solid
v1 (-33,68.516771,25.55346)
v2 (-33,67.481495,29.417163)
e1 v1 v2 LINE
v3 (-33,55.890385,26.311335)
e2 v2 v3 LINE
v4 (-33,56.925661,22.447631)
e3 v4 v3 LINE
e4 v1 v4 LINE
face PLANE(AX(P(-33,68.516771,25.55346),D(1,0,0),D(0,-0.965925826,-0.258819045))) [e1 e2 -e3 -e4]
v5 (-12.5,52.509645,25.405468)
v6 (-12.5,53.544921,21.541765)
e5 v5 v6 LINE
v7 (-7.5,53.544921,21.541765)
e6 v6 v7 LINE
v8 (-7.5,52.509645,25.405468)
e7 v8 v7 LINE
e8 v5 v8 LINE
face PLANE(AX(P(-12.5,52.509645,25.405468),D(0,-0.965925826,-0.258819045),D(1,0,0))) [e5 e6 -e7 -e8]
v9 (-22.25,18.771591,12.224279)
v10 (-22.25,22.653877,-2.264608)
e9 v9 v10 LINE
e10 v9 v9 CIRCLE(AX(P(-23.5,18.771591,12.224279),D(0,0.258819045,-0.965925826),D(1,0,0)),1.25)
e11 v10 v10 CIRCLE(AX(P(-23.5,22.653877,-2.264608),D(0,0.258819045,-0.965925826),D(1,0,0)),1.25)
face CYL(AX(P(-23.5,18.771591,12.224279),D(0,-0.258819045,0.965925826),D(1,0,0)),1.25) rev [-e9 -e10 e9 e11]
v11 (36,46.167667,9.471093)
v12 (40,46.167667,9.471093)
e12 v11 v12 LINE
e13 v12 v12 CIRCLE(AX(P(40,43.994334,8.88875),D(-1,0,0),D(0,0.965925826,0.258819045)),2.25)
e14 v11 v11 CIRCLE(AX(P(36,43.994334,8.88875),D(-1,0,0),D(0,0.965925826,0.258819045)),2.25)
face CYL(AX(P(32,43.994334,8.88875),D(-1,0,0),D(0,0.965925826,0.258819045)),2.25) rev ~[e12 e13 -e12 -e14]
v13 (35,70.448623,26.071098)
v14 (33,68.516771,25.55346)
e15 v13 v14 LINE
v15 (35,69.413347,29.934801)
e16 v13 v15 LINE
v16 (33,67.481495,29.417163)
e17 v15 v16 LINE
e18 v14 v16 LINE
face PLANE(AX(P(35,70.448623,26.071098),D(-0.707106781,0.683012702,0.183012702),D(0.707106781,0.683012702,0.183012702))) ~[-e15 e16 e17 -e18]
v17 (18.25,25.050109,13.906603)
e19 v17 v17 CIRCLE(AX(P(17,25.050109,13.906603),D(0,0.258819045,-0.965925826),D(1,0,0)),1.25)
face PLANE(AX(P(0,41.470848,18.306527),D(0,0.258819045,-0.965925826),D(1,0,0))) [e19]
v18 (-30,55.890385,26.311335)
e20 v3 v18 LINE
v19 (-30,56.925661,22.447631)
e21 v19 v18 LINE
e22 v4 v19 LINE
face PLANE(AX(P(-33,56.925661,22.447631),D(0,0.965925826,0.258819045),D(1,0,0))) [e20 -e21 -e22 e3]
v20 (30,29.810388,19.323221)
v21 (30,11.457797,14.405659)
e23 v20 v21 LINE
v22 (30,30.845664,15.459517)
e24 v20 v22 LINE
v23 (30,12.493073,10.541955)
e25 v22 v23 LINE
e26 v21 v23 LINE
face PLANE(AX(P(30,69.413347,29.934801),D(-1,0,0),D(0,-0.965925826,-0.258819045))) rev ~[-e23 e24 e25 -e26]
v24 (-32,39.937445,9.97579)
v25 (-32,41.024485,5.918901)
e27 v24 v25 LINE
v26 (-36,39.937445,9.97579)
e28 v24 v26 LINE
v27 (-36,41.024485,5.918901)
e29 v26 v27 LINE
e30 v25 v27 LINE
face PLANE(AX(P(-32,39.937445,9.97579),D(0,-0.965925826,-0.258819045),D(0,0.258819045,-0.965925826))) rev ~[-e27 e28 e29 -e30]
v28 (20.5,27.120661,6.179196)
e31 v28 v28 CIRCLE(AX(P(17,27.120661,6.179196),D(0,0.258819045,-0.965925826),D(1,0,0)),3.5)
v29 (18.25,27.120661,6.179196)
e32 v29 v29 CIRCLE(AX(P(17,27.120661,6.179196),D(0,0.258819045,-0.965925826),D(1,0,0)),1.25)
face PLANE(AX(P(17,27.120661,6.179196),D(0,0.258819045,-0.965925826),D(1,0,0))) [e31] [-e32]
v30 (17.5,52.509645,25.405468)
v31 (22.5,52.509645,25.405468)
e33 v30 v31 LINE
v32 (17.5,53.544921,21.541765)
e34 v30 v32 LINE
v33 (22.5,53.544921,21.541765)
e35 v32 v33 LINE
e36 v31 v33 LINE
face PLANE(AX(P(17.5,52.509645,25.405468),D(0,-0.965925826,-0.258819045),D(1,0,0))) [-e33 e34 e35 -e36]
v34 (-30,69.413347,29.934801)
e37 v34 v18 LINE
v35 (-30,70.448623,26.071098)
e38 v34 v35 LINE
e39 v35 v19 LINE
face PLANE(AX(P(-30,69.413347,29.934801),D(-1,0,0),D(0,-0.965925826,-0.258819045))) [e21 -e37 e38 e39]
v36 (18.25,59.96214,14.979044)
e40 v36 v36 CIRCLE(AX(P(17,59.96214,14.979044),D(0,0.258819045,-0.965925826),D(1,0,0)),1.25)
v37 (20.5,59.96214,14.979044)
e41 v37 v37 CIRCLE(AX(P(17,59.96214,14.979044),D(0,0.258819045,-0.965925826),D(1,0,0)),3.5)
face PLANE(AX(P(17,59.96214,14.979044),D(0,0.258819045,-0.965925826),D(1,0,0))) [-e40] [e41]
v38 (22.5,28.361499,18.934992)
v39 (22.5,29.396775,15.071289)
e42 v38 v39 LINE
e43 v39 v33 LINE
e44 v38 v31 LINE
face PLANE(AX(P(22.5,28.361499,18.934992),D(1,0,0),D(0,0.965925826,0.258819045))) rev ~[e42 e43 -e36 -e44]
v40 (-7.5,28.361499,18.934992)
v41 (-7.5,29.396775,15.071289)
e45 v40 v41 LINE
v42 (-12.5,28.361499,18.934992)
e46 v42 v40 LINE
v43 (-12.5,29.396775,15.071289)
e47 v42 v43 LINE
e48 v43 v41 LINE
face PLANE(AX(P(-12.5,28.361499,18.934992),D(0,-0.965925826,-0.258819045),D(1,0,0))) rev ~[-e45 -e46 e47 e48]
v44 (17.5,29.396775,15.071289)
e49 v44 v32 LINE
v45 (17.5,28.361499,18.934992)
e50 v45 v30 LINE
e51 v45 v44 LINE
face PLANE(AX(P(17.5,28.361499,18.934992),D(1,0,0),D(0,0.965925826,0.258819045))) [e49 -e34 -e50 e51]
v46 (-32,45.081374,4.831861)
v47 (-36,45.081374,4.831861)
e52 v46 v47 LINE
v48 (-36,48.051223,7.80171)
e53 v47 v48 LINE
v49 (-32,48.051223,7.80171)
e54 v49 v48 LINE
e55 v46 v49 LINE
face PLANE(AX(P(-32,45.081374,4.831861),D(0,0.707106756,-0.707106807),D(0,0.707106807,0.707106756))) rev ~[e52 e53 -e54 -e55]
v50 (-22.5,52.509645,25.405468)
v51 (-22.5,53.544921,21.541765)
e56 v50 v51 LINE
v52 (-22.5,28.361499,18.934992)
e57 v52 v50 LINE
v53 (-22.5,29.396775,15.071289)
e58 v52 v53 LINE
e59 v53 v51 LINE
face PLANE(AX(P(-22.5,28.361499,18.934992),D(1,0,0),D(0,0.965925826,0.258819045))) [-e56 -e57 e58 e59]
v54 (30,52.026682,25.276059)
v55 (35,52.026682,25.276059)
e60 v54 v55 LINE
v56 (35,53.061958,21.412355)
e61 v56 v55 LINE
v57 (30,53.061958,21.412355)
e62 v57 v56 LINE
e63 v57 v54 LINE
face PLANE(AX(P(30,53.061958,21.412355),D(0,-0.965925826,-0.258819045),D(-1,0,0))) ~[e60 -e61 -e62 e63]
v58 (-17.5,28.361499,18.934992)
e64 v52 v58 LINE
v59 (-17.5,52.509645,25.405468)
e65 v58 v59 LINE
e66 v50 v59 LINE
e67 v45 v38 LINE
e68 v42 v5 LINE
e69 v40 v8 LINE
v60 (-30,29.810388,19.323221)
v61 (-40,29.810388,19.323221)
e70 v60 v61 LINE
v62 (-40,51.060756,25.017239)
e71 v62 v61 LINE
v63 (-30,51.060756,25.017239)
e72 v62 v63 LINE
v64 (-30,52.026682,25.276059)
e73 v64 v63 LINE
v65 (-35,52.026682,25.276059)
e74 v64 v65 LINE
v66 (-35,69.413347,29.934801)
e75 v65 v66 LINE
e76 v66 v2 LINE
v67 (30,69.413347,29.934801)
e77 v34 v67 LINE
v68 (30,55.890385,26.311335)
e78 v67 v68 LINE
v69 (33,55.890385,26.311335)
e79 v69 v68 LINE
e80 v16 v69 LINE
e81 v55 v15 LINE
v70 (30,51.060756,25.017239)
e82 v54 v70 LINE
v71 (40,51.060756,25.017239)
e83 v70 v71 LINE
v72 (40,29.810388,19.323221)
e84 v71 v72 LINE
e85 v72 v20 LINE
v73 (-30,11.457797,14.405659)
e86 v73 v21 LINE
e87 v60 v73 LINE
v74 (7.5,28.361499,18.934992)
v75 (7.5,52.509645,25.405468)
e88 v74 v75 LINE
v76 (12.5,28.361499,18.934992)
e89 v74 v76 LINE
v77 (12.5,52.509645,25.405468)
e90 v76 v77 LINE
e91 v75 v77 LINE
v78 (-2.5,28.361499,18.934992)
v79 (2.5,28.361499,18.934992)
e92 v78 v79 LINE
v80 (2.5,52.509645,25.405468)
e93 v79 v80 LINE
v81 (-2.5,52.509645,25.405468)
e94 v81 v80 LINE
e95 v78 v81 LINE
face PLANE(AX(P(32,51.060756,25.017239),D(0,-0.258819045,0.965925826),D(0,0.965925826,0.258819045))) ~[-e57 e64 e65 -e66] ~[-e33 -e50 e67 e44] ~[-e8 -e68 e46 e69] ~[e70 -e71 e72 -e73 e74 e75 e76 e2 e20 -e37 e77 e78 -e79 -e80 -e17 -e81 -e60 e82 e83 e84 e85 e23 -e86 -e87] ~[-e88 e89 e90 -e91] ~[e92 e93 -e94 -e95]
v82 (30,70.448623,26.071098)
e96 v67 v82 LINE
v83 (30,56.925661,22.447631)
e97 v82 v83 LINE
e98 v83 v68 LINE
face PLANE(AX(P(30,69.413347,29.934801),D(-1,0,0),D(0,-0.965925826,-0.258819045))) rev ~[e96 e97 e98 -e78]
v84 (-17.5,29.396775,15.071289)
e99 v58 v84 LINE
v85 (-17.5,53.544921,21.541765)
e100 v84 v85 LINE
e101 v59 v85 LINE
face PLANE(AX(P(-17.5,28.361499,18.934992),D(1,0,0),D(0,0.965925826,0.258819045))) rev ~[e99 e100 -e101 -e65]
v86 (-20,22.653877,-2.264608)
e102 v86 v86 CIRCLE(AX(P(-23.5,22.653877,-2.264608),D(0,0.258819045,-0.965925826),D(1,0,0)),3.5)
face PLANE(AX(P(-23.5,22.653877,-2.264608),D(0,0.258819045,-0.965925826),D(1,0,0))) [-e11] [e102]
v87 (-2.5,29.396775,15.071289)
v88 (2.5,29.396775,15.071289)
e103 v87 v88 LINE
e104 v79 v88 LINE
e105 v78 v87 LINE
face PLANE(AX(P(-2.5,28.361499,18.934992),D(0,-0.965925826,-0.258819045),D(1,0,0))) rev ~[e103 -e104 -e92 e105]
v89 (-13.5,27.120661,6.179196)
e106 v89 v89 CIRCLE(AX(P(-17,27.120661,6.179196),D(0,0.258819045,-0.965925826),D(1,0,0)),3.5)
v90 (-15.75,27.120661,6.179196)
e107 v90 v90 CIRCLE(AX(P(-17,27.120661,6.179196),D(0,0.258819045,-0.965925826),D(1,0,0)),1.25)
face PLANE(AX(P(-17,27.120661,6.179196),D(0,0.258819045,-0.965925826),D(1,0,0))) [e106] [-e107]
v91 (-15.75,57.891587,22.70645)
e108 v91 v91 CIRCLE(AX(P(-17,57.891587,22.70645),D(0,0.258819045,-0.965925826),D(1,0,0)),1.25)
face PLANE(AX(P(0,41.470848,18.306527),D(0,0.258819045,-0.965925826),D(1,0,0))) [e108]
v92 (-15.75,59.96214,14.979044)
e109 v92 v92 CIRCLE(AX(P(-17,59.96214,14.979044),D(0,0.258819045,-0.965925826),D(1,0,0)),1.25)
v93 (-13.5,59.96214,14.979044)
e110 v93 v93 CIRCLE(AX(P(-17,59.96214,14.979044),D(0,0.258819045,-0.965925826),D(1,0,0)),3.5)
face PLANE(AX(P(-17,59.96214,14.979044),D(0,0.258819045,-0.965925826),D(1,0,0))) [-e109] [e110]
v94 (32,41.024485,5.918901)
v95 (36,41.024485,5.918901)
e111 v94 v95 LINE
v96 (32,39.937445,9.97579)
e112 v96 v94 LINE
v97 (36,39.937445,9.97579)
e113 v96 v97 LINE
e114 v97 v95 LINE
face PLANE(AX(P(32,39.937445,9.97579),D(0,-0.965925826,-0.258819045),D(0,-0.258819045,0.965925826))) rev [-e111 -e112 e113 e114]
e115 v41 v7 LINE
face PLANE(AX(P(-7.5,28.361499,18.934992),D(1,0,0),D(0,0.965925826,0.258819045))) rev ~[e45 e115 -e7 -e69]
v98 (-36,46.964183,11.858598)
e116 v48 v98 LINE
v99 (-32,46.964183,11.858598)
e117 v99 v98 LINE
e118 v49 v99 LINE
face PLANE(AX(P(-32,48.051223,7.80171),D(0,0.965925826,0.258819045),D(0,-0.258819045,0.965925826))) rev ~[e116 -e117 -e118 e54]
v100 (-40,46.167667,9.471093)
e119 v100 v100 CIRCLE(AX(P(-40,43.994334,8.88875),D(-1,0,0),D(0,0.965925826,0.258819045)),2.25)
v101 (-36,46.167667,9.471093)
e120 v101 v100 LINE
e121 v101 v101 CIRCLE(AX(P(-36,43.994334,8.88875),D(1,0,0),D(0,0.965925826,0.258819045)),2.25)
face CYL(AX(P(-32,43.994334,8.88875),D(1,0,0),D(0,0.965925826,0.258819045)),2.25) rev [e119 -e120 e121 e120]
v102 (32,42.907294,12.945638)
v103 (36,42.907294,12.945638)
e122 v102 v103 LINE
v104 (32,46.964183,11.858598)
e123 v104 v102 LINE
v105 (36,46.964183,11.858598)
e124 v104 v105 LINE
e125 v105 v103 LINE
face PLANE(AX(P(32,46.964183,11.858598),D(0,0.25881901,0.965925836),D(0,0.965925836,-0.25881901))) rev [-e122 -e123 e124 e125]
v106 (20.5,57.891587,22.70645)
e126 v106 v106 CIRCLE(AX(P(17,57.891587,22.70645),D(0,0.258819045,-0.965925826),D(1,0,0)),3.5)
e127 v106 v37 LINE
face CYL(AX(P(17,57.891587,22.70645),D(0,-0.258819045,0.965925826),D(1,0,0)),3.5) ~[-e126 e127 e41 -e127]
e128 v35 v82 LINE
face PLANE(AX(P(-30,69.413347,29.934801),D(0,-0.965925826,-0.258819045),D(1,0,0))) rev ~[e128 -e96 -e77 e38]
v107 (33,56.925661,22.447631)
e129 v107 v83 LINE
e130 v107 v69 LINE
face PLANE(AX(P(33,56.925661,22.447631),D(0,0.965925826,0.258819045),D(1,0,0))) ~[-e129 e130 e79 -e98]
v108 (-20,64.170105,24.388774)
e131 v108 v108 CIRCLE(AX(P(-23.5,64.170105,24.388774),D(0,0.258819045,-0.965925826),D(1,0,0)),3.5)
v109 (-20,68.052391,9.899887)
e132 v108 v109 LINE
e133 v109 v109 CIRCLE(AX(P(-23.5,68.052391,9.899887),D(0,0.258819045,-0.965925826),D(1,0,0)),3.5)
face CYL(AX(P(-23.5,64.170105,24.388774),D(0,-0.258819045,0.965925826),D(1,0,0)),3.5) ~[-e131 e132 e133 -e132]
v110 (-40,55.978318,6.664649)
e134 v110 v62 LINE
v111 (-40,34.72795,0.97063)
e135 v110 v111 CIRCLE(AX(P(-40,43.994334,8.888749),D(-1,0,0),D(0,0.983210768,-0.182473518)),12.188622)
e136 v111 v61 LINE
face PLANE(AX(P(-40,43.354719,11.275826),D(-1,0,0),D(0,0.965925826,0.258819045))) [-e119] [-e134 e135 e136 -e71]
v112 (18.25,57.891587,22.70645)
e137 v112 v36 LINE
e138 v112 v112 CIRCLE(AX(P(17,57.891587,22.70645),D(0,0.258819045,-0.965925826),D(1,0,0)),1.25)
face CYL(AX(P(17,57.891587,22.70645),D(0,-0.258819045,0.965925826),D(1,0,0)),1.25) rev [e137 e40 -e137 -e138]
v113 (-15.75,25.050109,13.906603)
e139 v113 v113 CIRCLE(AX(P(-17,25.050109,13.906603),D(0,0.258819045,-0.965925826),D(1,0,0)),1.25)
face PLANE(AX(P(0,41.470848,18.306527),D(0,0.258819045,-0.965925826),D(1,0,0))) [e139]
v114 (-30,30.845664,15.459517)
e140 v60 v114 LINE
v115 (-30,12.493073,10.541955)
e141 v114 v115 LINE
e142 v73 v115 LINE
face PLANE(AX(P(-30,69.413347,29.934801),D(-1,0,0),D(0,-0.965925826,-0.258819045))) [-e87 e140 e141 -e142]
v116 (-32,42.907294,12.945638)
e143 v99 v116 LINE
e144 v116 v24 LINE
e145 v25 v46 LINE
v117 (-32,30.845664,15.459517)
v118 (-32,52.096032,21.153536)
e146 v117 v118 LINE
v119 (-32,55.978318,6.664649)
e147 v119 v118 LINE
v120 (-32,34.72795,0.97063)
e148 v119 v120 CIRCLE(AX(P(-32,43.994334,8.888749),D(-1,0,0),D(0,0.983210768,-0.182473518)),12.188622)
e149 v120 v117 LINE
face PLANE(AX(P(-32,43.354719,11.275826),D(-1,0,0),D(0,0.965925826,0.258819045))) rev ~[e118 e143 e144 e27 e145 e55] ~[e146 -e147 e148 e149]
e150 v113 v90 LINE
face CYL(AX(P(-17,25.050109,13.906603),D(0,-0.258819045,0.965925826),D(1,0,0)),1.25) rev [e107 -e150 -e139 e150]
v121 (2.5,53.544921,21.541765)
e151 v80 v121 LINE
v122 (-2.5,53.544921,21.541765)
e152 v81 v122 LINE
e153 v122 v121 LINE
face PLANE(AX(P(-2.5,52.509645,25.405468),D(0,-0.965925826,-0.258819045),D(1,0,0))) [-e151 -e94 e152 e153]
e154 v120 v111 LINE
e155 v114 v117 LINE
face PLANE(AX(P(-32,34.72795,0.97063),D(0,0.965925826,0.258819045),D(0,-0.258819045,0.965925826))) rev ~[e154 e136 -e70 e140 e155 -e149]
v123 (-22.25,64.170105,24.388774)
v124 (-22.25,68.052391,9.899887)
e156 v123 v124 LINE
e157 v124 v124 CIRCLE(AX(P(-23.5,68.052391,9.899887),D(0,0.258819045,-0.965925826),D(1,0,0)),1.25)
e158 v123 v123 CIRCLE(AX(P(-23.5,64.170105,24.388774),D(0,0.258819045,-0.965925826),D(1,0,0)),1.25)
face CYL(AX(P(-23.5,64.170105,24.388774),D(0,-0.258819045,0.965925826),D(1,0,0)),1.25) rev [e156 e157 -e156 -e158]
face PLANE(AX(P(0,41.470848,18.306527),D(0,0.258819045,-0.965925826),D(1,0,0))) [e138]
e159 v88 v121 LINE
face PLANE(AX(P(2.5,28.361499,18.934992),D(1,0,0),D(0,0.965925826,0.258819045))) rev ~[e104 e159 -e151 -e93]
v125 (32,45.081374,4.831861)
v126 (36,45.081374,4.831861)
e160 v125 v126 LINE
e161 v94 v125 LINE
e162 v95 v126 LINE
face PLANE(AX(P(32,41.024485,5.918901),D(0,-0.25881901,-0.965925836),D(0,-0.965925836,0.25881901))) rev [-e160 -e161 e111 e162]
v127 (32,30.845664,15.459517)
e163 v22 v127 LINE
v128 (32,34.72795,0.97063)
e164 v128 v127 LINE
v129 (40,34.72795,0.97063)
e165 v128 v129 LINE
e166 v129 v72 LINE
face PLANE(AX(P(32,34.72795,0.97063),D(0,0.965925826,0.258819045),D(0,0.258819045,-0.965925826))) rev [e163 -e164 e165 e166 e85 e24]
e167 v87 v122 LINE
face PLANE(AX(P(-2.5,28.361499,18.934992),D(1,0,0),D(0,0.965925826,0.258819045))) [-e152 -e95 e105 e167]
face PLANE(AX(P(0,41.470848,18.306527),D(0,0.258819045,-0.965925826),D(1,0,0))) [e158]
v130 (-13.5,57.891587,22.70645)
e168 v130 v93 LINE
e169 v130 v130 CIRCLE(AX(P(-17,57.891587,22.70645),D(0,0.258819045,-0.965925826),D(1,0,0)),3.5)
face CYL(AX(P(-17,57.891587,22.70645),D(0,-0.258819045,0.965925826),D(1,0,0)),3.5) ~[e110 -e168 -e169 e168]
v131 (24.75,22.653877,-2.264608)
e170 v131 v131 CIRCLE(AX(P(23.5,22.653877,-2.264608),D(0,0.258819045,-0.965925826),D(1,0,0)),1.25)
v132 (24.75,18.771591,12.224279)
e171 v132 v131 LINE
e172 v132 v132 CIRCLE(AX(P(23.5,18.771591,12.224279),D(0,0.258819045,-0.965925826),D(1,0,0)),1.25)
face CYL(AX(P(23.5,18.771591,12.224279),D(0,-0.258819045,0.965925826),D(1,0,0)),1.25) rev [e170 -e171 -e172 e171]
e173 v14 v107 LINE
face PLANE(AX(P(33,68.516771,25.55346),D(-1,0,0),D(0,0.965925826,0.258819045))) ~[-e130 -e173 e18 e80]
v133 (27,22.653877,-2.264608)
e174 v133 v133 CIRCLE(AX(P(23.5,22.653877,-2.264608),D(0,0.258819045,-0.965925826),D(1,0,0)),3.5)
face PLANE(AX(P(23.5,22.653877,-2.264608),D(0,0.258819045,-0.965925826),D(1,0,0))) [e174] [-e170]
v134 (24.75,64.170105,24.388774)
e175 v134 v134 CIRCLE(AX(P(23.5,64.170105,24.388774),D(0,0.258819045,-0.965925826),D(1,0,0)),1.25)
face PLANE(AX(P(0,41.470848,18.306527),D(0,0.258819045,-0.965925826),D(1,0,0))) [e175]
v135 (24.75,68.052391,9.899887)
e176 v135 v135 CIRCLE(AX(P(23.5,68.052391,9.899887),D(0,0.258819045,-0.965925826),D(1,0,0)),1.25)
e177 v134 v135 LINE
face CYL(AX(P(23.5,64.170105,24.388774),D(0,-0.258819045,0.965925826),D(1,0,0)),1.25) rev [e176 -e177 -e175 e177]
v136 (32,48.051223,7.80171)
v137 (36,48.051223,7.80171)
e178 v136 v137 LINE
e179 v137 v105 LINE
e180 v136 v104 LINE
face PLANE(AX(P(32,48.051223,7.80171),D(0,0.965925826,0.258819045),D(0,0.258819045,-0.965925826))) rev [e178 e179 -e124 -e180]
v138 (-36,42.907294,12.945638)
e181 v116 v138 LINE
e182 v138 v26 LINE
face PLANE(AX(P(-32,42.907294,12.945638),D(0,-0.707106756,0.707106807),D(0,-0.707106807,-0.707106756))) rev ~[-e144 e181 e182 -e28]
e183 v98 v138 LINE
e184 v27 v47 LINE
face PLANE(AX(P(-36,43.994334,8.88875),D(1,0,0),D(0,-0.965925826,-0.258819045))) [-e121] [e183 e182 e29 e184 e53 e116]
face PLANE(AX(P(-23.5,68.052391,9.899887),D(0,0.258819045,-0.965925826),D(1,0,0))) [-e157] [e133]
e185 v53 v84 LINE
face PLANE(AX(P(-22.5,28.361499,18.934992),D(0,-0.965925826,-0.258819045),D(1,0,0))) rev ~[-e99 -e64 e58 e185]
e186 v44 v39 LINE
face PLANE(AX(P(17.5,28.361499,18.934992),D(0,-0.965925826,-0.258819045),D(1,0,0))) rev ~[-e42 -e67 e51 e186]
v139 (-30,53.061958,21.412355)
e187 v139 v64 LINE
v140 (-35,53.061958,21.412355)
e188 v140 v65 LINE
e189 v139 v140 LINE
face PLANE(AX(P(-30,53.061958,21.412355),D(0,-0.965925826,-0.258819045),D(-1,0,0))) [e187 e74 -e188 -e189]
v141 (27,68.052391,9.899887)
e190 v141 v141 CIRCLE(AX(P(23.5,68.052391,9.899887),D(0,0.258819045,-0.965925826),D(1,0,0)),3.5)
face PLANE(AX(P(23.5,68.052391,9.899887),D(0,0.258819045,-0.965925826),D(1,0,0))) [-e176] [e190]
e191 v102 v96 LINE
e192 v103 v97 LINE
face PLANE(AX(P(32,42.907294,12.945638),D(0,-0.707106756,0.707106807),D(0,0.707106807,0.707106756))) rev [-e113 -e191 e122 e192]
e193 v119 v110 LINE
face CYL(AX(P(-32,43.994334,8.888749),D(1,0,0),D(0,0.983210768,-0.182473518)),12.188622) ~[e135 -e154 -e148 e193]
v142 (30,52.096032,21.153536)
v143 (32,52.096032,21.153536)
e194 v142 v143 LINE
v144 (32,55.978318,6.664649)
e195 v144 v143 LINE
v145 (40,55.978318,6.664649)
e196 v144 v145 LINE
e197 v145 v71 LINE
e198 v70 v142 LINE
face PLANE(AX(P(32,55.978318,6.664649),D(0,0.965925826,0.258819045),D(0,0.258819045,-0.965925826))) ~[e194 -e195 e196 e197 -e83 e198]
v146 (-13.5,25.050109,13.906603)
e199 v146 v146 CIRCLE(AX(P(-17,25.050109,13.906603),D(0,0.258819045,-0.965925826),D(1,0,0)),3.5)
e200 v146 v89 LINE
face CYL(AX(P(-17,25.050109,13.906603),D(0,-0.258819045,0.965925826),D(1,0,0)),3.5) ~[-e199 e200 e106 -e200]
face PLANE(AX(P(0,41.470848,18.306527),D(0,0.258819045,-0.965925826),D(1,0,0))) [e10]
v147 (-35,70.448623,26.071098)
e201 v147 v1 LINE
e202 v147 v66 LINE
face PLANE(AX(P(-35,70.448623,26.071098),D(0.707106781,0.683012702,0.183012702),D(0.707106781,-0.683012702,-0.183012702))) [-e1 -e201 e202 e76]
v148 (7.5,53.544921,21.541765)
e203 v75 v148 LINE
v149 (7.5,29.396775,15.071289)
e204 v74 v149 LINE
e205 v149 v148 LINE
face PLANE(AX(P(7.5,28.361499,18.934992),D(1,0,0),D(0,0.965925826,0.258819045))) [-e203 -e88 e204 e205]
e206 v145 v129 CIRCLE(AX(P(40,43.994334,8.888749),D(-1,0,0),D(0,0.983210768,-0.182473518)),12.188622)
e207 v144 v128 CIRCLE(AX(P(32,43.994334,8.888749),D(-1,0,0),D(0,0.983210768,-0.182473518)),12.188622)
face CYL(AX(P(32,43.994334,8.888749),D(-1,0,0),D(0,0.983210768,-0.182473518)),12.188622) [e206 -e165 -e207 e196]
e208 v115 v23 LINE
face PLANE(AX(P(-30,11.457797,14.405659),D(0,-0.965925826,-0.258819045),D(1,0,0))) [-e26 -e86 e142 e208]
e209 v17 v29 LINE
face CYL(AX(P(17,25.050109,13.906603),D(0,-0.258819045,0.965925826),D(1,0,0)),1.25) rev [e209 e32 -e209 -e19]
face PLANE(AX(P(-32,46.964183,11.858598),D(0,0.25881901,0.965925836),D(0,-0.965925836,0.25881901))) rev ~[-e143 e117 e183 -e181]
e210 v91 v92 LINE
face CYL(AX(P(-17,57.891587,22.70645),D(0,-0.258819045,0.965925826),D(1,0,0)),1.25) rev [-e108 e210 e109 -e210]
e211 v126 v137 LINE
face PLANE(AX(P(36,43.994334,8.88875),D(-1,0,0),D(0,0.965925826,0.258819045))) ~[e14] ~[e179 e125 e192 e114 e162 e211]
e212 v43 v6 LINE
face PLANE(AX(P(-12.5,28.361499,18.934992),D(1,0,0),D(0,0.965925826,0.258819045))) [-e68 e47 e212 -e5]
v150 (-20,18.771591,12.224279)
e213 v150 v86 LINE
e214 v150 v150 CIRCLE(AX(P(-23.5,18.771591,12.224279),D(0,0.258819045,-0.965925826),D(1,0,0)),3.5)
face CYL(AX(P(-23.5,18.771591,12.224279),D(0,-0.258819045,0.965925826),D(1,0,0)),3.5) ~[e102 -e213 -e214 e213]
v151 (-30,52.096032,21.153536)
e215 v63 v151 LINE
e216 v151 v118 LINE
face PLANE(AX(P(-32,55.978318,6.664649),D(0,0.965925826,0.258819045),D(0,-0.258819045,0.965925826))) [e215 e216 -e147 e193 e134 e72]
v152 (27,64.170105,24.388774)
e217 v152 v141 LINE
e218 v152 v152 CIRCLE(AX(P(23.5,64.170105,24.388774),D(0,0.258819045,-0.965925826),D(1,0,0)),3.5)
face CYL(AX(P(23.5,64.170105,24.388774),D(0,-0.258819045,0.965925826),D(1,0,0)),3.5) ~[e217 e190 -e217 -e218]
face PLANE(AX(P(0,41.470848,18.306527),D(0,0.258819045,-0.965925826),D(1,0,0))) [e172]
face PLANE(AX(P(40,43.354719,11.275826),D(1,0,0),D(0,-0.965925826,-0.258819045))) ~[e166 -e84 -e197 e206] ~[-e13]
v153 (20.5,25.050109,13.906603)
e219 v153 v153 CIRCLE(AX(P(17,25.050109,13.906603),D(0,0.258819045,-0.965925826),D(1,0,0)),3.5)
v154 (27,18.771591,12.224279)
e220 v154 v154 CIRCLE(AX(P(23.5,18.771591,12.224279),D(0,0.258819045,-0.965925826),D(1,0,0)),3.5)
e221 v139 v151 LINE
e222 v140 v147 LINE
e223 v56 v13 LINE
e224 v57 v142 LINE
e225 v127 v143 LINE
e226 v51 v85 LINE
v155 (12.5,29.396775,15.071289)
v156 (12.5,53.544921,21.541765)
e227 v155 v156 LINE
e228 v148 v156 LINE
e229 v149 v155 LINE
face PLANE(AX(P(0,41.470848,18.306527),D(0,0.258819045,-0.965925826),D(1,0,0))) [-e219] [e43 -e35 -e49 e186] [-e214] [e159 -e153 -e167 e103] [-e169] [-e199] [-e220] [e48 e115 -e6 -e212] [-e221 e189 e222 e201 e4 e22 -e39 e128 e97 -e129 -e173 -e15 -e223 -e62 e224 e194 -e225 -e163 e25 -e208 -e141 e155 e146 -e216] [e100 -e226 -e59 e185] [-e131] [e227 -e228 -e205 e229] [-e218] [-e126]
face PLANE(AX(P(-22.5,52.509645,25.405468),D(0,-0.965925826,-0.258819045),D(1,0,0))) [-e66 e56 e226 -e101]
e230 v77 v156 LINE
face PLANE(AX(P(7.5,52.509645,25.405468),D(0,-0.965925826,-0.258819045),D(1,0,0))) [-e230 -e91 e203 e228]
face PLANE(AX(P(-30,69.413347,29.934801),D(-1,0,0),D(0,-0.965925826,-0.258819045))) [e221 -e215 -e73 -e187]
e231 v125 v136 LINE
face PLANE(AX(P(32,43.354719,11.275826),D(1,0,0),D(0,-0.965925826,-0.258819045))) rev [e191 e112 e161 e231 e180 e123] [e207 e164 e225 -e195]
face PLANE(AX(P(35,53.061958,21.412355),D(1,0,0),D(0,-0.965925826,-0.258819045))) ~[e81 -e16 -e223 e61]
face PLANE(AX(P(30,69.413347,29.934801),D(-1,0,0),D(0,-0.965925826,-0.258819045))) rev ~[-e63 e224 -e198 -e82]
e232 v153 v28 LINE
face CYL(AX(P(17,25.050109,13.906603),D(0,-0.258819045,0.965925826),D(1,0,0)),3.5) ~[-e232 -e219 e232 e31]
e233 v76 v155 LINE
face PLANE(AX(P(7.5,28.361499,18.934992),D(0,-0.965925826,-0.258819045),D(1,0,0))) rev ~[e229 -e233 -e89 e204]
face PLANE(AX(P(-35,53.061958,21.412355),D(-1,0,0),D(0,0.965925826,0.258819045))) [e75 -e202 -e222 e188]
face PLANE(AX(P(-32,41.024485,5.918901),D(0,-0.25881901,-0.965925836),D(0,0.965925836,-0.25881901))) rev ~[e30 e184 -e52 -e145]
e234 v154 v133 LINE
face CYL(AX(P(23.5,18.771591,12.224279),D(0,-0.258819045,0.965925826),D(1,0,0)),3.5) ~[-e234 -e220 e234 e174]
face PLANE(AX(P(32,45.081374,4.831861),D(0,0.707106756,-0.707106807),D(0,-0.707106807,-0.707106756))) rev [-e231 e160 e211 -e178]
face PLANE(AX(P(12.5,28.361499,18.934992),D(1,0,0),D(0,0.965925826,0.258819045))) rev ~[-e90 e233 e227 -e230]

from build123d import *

# Parameters (mm, degrees)
SKETCH_W             = 60
SKETCH_H             = 60
PAD_DEPTH            = 4
SKETCH001_R          = 3.5
SKETCH001_R_2        = 1.25
PAD001_DEPTH         = 8
SKETCH009_W          = 5
SKETCH009_H          = 25
POCKET008_DEPTH      = 4
PAD006_DEPTH         = 4
SKETCH015_W          = 22
SKETCH015_H          = 4
PAD007_DEPTH         = 2
SKETCH003_R          = 2.25
PAD008_DEPTH         = 8
SKETCH014_R          = 3.5
SKETCH014_R_2        = 1.25
PAD009_DEPTH         = 15
POCKET_DEPTH         = 4
BODY_PLACEMENT_ANGLE = 195


with BuildPart() as part:
    # Sketch → Pad (new body)
    with BuildSketch(Plane.XY):
        Rectangle(SKETCH_W, SKETCH_H)
    extrude(amount=PAD_DEPTH)

    # Sketch001 (on Face6 of Pad) → Pad001 (join)
    with BuildSketch(Plane.XY.offset(4)):
        with Locations((-17, 17)):
            Circle(SKETCH001_R)
        with Locations((-17, 17)):
            Circle(SKETCH001_R_2, mode=Mode.SUBTRACT)
        with Locations((-17, -17)):
            Circle(SKETCH001_R)
        with Locations((-17, -17)):
            Circle(SKETCH001_R_2, mode=Mode.SUBTRACT)
        with Locations((17, -17)):
            Circle(SKETCH001_R)
        with Locations((17, -17)):
            Circle(SKETCH001_R_2, mode=Mode.SUBTRACT)
        with Locations((17, 17)):
            Circle(SKETCH001_R)
        with Locations((17, 17)):
            Circle(SKETCH001_R_2, mode=Mode.SUBTRACT)
    extrude(amount=PAD001_DEPTH)

    # Sketch009 → Pocket008 (cut)
    with BuildSketch(Plane(origin=(0, 0, 0), x_dir=(1, 0, 0), z_dir=(0, 0, -1))):
        Rectangle(SKETCH009_W, SKETCH009_H)
        with Locations((10, 0)):
            Rectangle(SKETCH009_W, SKETCH009_H)
        with Locations((20, 0)):
            Rectangle(SKETCH009_W, SKETCH009_H)
        with Locations((-10, 0)):
            Rectangle(SKETCH009_W, SKETCH009_H)
        with Locations((-20, 0)):
            Rectangle(SKETCH009_W, SKETCH009_H)
    extrude(amount=-POCKET008_DEPTH, mode=Mode.SUBTRACT)

    # Sketch012 (on Face5 of Pocket008) → Pad006 (join)
    with BuildSketch(Plane.XY.offset(4)):
        Polygon((-30, -12), (-35, -12), (-35, -30), (-33, -28), (-33, -16), (-30, -16), align=None)
    pad006 = extrude(amount=-PAD006_DEPTH)

    # Mirrored005: Pad006 across Sketch012 V_Axis
    add(pad006.mirror(Plane(origin=(0, 0, 4), x_dir=(0, 0, 1), z_dir=(1, 0, 0))))

    # Sketch015 (on Face4 of Pad) → Pad007 (join)
    with BuildSketch(Plane(origin=(-30, 0, 0), x_dir=(0, -1, 0), z_dir=(-1, 0, 0))):
        with Locations((0, 2)):
            Rectangle(SKETCH015_W, SKETCH015_H)
    pad007 = extrude(amount=PAD007_DEPTH)

    # Sketch003 (on Face42 of Pad007) → Pad008 (join)
    with BuildSketch(Plane(origin=(-32, 0, 0), x_dir=(0, -1, 0), z_dir=(-1, 0, 0))):
        with BuildLine():
            ThreePointArc((11, 19), (0, 25.938622), (-11, 19))
            Line((-11, 19), (-11, 0))
            Line((11, 0), (-11, 0))
            Line((11, 19), (11, 0))
        make_face()
        with Locations((0, 13.75)):
            Circle(SKETCH003_R, mode=Mode.SUBTRACT)
    pad008 = extrude(amount=PAD008_DEPTH)

    # Sketch014 → Pad009 (join)
    with BuildSketch(Plane.XY.offset(4)):
        with Locations((-23.5, 23.5)):
            Circle(SKETCH014_R)
        with Locations((-23.5, 23.5)):
            Circle(SKETCH014_R_2, mode=Mode.SUBTRACT)
        with Locations((23.5, 23.5)):
            Circle(SKETCH014_R)
        with Locations((23.5, 23.5)):
            Circle(SKETCH014_R_2, mode=Mode.SUBTRACT)
        with Locations((23.5, -23.5)):
            Circle(SKETCH014_R)
        with Locations((23.5, -23.5)):
            Circle(SKETCH014_R_2, mode=Mode.SUBTRACT)
        with Locations((-23.5, -23.5)):
            Circle(SKETCH014_R)
        with Locations((-23.5, -23.5)):
            Circle(SKETCH014_R_2, mode=Mode.SUBTRACT)
    extrude(amount=PAD009_DEPTH)

    # Sketch016 (on Face58 of Pad009) → Pocket (cut)
    with BuildSketch(Plane.YZ.offset(-32)):
        Polygon((-3.637307, 15.85), (-3.637307, 11.65), (0, 9.55), (3.637307, 11.65), (3.637307, 15.85), (0, 17.95), align=None)
    pocket = extrude(amount=-POCKET_DEPTH, mode=Mode.SUBTRACT)

    # Mirrored: Pad007, Pad008 across YZ
    add(pad007.mirror(Plane.YZ))
    add(pad008.mirror(Plane.YZ))

    # Mirrored006: Pocket across YZ
    add(pocket.mirror(Plane.YZ), mode=Mode.SUBTRACT)


with BuildPart() as part_1:
    # Body placement: moved
    add(part.part.moved(Location((0, 40.435572, 22.17023))).rotate(Axis((0, 40.435572, 22.17023), (1, 0, 0)), BODY_PLACEMENT_ANGLE))


solid = part_1.part
